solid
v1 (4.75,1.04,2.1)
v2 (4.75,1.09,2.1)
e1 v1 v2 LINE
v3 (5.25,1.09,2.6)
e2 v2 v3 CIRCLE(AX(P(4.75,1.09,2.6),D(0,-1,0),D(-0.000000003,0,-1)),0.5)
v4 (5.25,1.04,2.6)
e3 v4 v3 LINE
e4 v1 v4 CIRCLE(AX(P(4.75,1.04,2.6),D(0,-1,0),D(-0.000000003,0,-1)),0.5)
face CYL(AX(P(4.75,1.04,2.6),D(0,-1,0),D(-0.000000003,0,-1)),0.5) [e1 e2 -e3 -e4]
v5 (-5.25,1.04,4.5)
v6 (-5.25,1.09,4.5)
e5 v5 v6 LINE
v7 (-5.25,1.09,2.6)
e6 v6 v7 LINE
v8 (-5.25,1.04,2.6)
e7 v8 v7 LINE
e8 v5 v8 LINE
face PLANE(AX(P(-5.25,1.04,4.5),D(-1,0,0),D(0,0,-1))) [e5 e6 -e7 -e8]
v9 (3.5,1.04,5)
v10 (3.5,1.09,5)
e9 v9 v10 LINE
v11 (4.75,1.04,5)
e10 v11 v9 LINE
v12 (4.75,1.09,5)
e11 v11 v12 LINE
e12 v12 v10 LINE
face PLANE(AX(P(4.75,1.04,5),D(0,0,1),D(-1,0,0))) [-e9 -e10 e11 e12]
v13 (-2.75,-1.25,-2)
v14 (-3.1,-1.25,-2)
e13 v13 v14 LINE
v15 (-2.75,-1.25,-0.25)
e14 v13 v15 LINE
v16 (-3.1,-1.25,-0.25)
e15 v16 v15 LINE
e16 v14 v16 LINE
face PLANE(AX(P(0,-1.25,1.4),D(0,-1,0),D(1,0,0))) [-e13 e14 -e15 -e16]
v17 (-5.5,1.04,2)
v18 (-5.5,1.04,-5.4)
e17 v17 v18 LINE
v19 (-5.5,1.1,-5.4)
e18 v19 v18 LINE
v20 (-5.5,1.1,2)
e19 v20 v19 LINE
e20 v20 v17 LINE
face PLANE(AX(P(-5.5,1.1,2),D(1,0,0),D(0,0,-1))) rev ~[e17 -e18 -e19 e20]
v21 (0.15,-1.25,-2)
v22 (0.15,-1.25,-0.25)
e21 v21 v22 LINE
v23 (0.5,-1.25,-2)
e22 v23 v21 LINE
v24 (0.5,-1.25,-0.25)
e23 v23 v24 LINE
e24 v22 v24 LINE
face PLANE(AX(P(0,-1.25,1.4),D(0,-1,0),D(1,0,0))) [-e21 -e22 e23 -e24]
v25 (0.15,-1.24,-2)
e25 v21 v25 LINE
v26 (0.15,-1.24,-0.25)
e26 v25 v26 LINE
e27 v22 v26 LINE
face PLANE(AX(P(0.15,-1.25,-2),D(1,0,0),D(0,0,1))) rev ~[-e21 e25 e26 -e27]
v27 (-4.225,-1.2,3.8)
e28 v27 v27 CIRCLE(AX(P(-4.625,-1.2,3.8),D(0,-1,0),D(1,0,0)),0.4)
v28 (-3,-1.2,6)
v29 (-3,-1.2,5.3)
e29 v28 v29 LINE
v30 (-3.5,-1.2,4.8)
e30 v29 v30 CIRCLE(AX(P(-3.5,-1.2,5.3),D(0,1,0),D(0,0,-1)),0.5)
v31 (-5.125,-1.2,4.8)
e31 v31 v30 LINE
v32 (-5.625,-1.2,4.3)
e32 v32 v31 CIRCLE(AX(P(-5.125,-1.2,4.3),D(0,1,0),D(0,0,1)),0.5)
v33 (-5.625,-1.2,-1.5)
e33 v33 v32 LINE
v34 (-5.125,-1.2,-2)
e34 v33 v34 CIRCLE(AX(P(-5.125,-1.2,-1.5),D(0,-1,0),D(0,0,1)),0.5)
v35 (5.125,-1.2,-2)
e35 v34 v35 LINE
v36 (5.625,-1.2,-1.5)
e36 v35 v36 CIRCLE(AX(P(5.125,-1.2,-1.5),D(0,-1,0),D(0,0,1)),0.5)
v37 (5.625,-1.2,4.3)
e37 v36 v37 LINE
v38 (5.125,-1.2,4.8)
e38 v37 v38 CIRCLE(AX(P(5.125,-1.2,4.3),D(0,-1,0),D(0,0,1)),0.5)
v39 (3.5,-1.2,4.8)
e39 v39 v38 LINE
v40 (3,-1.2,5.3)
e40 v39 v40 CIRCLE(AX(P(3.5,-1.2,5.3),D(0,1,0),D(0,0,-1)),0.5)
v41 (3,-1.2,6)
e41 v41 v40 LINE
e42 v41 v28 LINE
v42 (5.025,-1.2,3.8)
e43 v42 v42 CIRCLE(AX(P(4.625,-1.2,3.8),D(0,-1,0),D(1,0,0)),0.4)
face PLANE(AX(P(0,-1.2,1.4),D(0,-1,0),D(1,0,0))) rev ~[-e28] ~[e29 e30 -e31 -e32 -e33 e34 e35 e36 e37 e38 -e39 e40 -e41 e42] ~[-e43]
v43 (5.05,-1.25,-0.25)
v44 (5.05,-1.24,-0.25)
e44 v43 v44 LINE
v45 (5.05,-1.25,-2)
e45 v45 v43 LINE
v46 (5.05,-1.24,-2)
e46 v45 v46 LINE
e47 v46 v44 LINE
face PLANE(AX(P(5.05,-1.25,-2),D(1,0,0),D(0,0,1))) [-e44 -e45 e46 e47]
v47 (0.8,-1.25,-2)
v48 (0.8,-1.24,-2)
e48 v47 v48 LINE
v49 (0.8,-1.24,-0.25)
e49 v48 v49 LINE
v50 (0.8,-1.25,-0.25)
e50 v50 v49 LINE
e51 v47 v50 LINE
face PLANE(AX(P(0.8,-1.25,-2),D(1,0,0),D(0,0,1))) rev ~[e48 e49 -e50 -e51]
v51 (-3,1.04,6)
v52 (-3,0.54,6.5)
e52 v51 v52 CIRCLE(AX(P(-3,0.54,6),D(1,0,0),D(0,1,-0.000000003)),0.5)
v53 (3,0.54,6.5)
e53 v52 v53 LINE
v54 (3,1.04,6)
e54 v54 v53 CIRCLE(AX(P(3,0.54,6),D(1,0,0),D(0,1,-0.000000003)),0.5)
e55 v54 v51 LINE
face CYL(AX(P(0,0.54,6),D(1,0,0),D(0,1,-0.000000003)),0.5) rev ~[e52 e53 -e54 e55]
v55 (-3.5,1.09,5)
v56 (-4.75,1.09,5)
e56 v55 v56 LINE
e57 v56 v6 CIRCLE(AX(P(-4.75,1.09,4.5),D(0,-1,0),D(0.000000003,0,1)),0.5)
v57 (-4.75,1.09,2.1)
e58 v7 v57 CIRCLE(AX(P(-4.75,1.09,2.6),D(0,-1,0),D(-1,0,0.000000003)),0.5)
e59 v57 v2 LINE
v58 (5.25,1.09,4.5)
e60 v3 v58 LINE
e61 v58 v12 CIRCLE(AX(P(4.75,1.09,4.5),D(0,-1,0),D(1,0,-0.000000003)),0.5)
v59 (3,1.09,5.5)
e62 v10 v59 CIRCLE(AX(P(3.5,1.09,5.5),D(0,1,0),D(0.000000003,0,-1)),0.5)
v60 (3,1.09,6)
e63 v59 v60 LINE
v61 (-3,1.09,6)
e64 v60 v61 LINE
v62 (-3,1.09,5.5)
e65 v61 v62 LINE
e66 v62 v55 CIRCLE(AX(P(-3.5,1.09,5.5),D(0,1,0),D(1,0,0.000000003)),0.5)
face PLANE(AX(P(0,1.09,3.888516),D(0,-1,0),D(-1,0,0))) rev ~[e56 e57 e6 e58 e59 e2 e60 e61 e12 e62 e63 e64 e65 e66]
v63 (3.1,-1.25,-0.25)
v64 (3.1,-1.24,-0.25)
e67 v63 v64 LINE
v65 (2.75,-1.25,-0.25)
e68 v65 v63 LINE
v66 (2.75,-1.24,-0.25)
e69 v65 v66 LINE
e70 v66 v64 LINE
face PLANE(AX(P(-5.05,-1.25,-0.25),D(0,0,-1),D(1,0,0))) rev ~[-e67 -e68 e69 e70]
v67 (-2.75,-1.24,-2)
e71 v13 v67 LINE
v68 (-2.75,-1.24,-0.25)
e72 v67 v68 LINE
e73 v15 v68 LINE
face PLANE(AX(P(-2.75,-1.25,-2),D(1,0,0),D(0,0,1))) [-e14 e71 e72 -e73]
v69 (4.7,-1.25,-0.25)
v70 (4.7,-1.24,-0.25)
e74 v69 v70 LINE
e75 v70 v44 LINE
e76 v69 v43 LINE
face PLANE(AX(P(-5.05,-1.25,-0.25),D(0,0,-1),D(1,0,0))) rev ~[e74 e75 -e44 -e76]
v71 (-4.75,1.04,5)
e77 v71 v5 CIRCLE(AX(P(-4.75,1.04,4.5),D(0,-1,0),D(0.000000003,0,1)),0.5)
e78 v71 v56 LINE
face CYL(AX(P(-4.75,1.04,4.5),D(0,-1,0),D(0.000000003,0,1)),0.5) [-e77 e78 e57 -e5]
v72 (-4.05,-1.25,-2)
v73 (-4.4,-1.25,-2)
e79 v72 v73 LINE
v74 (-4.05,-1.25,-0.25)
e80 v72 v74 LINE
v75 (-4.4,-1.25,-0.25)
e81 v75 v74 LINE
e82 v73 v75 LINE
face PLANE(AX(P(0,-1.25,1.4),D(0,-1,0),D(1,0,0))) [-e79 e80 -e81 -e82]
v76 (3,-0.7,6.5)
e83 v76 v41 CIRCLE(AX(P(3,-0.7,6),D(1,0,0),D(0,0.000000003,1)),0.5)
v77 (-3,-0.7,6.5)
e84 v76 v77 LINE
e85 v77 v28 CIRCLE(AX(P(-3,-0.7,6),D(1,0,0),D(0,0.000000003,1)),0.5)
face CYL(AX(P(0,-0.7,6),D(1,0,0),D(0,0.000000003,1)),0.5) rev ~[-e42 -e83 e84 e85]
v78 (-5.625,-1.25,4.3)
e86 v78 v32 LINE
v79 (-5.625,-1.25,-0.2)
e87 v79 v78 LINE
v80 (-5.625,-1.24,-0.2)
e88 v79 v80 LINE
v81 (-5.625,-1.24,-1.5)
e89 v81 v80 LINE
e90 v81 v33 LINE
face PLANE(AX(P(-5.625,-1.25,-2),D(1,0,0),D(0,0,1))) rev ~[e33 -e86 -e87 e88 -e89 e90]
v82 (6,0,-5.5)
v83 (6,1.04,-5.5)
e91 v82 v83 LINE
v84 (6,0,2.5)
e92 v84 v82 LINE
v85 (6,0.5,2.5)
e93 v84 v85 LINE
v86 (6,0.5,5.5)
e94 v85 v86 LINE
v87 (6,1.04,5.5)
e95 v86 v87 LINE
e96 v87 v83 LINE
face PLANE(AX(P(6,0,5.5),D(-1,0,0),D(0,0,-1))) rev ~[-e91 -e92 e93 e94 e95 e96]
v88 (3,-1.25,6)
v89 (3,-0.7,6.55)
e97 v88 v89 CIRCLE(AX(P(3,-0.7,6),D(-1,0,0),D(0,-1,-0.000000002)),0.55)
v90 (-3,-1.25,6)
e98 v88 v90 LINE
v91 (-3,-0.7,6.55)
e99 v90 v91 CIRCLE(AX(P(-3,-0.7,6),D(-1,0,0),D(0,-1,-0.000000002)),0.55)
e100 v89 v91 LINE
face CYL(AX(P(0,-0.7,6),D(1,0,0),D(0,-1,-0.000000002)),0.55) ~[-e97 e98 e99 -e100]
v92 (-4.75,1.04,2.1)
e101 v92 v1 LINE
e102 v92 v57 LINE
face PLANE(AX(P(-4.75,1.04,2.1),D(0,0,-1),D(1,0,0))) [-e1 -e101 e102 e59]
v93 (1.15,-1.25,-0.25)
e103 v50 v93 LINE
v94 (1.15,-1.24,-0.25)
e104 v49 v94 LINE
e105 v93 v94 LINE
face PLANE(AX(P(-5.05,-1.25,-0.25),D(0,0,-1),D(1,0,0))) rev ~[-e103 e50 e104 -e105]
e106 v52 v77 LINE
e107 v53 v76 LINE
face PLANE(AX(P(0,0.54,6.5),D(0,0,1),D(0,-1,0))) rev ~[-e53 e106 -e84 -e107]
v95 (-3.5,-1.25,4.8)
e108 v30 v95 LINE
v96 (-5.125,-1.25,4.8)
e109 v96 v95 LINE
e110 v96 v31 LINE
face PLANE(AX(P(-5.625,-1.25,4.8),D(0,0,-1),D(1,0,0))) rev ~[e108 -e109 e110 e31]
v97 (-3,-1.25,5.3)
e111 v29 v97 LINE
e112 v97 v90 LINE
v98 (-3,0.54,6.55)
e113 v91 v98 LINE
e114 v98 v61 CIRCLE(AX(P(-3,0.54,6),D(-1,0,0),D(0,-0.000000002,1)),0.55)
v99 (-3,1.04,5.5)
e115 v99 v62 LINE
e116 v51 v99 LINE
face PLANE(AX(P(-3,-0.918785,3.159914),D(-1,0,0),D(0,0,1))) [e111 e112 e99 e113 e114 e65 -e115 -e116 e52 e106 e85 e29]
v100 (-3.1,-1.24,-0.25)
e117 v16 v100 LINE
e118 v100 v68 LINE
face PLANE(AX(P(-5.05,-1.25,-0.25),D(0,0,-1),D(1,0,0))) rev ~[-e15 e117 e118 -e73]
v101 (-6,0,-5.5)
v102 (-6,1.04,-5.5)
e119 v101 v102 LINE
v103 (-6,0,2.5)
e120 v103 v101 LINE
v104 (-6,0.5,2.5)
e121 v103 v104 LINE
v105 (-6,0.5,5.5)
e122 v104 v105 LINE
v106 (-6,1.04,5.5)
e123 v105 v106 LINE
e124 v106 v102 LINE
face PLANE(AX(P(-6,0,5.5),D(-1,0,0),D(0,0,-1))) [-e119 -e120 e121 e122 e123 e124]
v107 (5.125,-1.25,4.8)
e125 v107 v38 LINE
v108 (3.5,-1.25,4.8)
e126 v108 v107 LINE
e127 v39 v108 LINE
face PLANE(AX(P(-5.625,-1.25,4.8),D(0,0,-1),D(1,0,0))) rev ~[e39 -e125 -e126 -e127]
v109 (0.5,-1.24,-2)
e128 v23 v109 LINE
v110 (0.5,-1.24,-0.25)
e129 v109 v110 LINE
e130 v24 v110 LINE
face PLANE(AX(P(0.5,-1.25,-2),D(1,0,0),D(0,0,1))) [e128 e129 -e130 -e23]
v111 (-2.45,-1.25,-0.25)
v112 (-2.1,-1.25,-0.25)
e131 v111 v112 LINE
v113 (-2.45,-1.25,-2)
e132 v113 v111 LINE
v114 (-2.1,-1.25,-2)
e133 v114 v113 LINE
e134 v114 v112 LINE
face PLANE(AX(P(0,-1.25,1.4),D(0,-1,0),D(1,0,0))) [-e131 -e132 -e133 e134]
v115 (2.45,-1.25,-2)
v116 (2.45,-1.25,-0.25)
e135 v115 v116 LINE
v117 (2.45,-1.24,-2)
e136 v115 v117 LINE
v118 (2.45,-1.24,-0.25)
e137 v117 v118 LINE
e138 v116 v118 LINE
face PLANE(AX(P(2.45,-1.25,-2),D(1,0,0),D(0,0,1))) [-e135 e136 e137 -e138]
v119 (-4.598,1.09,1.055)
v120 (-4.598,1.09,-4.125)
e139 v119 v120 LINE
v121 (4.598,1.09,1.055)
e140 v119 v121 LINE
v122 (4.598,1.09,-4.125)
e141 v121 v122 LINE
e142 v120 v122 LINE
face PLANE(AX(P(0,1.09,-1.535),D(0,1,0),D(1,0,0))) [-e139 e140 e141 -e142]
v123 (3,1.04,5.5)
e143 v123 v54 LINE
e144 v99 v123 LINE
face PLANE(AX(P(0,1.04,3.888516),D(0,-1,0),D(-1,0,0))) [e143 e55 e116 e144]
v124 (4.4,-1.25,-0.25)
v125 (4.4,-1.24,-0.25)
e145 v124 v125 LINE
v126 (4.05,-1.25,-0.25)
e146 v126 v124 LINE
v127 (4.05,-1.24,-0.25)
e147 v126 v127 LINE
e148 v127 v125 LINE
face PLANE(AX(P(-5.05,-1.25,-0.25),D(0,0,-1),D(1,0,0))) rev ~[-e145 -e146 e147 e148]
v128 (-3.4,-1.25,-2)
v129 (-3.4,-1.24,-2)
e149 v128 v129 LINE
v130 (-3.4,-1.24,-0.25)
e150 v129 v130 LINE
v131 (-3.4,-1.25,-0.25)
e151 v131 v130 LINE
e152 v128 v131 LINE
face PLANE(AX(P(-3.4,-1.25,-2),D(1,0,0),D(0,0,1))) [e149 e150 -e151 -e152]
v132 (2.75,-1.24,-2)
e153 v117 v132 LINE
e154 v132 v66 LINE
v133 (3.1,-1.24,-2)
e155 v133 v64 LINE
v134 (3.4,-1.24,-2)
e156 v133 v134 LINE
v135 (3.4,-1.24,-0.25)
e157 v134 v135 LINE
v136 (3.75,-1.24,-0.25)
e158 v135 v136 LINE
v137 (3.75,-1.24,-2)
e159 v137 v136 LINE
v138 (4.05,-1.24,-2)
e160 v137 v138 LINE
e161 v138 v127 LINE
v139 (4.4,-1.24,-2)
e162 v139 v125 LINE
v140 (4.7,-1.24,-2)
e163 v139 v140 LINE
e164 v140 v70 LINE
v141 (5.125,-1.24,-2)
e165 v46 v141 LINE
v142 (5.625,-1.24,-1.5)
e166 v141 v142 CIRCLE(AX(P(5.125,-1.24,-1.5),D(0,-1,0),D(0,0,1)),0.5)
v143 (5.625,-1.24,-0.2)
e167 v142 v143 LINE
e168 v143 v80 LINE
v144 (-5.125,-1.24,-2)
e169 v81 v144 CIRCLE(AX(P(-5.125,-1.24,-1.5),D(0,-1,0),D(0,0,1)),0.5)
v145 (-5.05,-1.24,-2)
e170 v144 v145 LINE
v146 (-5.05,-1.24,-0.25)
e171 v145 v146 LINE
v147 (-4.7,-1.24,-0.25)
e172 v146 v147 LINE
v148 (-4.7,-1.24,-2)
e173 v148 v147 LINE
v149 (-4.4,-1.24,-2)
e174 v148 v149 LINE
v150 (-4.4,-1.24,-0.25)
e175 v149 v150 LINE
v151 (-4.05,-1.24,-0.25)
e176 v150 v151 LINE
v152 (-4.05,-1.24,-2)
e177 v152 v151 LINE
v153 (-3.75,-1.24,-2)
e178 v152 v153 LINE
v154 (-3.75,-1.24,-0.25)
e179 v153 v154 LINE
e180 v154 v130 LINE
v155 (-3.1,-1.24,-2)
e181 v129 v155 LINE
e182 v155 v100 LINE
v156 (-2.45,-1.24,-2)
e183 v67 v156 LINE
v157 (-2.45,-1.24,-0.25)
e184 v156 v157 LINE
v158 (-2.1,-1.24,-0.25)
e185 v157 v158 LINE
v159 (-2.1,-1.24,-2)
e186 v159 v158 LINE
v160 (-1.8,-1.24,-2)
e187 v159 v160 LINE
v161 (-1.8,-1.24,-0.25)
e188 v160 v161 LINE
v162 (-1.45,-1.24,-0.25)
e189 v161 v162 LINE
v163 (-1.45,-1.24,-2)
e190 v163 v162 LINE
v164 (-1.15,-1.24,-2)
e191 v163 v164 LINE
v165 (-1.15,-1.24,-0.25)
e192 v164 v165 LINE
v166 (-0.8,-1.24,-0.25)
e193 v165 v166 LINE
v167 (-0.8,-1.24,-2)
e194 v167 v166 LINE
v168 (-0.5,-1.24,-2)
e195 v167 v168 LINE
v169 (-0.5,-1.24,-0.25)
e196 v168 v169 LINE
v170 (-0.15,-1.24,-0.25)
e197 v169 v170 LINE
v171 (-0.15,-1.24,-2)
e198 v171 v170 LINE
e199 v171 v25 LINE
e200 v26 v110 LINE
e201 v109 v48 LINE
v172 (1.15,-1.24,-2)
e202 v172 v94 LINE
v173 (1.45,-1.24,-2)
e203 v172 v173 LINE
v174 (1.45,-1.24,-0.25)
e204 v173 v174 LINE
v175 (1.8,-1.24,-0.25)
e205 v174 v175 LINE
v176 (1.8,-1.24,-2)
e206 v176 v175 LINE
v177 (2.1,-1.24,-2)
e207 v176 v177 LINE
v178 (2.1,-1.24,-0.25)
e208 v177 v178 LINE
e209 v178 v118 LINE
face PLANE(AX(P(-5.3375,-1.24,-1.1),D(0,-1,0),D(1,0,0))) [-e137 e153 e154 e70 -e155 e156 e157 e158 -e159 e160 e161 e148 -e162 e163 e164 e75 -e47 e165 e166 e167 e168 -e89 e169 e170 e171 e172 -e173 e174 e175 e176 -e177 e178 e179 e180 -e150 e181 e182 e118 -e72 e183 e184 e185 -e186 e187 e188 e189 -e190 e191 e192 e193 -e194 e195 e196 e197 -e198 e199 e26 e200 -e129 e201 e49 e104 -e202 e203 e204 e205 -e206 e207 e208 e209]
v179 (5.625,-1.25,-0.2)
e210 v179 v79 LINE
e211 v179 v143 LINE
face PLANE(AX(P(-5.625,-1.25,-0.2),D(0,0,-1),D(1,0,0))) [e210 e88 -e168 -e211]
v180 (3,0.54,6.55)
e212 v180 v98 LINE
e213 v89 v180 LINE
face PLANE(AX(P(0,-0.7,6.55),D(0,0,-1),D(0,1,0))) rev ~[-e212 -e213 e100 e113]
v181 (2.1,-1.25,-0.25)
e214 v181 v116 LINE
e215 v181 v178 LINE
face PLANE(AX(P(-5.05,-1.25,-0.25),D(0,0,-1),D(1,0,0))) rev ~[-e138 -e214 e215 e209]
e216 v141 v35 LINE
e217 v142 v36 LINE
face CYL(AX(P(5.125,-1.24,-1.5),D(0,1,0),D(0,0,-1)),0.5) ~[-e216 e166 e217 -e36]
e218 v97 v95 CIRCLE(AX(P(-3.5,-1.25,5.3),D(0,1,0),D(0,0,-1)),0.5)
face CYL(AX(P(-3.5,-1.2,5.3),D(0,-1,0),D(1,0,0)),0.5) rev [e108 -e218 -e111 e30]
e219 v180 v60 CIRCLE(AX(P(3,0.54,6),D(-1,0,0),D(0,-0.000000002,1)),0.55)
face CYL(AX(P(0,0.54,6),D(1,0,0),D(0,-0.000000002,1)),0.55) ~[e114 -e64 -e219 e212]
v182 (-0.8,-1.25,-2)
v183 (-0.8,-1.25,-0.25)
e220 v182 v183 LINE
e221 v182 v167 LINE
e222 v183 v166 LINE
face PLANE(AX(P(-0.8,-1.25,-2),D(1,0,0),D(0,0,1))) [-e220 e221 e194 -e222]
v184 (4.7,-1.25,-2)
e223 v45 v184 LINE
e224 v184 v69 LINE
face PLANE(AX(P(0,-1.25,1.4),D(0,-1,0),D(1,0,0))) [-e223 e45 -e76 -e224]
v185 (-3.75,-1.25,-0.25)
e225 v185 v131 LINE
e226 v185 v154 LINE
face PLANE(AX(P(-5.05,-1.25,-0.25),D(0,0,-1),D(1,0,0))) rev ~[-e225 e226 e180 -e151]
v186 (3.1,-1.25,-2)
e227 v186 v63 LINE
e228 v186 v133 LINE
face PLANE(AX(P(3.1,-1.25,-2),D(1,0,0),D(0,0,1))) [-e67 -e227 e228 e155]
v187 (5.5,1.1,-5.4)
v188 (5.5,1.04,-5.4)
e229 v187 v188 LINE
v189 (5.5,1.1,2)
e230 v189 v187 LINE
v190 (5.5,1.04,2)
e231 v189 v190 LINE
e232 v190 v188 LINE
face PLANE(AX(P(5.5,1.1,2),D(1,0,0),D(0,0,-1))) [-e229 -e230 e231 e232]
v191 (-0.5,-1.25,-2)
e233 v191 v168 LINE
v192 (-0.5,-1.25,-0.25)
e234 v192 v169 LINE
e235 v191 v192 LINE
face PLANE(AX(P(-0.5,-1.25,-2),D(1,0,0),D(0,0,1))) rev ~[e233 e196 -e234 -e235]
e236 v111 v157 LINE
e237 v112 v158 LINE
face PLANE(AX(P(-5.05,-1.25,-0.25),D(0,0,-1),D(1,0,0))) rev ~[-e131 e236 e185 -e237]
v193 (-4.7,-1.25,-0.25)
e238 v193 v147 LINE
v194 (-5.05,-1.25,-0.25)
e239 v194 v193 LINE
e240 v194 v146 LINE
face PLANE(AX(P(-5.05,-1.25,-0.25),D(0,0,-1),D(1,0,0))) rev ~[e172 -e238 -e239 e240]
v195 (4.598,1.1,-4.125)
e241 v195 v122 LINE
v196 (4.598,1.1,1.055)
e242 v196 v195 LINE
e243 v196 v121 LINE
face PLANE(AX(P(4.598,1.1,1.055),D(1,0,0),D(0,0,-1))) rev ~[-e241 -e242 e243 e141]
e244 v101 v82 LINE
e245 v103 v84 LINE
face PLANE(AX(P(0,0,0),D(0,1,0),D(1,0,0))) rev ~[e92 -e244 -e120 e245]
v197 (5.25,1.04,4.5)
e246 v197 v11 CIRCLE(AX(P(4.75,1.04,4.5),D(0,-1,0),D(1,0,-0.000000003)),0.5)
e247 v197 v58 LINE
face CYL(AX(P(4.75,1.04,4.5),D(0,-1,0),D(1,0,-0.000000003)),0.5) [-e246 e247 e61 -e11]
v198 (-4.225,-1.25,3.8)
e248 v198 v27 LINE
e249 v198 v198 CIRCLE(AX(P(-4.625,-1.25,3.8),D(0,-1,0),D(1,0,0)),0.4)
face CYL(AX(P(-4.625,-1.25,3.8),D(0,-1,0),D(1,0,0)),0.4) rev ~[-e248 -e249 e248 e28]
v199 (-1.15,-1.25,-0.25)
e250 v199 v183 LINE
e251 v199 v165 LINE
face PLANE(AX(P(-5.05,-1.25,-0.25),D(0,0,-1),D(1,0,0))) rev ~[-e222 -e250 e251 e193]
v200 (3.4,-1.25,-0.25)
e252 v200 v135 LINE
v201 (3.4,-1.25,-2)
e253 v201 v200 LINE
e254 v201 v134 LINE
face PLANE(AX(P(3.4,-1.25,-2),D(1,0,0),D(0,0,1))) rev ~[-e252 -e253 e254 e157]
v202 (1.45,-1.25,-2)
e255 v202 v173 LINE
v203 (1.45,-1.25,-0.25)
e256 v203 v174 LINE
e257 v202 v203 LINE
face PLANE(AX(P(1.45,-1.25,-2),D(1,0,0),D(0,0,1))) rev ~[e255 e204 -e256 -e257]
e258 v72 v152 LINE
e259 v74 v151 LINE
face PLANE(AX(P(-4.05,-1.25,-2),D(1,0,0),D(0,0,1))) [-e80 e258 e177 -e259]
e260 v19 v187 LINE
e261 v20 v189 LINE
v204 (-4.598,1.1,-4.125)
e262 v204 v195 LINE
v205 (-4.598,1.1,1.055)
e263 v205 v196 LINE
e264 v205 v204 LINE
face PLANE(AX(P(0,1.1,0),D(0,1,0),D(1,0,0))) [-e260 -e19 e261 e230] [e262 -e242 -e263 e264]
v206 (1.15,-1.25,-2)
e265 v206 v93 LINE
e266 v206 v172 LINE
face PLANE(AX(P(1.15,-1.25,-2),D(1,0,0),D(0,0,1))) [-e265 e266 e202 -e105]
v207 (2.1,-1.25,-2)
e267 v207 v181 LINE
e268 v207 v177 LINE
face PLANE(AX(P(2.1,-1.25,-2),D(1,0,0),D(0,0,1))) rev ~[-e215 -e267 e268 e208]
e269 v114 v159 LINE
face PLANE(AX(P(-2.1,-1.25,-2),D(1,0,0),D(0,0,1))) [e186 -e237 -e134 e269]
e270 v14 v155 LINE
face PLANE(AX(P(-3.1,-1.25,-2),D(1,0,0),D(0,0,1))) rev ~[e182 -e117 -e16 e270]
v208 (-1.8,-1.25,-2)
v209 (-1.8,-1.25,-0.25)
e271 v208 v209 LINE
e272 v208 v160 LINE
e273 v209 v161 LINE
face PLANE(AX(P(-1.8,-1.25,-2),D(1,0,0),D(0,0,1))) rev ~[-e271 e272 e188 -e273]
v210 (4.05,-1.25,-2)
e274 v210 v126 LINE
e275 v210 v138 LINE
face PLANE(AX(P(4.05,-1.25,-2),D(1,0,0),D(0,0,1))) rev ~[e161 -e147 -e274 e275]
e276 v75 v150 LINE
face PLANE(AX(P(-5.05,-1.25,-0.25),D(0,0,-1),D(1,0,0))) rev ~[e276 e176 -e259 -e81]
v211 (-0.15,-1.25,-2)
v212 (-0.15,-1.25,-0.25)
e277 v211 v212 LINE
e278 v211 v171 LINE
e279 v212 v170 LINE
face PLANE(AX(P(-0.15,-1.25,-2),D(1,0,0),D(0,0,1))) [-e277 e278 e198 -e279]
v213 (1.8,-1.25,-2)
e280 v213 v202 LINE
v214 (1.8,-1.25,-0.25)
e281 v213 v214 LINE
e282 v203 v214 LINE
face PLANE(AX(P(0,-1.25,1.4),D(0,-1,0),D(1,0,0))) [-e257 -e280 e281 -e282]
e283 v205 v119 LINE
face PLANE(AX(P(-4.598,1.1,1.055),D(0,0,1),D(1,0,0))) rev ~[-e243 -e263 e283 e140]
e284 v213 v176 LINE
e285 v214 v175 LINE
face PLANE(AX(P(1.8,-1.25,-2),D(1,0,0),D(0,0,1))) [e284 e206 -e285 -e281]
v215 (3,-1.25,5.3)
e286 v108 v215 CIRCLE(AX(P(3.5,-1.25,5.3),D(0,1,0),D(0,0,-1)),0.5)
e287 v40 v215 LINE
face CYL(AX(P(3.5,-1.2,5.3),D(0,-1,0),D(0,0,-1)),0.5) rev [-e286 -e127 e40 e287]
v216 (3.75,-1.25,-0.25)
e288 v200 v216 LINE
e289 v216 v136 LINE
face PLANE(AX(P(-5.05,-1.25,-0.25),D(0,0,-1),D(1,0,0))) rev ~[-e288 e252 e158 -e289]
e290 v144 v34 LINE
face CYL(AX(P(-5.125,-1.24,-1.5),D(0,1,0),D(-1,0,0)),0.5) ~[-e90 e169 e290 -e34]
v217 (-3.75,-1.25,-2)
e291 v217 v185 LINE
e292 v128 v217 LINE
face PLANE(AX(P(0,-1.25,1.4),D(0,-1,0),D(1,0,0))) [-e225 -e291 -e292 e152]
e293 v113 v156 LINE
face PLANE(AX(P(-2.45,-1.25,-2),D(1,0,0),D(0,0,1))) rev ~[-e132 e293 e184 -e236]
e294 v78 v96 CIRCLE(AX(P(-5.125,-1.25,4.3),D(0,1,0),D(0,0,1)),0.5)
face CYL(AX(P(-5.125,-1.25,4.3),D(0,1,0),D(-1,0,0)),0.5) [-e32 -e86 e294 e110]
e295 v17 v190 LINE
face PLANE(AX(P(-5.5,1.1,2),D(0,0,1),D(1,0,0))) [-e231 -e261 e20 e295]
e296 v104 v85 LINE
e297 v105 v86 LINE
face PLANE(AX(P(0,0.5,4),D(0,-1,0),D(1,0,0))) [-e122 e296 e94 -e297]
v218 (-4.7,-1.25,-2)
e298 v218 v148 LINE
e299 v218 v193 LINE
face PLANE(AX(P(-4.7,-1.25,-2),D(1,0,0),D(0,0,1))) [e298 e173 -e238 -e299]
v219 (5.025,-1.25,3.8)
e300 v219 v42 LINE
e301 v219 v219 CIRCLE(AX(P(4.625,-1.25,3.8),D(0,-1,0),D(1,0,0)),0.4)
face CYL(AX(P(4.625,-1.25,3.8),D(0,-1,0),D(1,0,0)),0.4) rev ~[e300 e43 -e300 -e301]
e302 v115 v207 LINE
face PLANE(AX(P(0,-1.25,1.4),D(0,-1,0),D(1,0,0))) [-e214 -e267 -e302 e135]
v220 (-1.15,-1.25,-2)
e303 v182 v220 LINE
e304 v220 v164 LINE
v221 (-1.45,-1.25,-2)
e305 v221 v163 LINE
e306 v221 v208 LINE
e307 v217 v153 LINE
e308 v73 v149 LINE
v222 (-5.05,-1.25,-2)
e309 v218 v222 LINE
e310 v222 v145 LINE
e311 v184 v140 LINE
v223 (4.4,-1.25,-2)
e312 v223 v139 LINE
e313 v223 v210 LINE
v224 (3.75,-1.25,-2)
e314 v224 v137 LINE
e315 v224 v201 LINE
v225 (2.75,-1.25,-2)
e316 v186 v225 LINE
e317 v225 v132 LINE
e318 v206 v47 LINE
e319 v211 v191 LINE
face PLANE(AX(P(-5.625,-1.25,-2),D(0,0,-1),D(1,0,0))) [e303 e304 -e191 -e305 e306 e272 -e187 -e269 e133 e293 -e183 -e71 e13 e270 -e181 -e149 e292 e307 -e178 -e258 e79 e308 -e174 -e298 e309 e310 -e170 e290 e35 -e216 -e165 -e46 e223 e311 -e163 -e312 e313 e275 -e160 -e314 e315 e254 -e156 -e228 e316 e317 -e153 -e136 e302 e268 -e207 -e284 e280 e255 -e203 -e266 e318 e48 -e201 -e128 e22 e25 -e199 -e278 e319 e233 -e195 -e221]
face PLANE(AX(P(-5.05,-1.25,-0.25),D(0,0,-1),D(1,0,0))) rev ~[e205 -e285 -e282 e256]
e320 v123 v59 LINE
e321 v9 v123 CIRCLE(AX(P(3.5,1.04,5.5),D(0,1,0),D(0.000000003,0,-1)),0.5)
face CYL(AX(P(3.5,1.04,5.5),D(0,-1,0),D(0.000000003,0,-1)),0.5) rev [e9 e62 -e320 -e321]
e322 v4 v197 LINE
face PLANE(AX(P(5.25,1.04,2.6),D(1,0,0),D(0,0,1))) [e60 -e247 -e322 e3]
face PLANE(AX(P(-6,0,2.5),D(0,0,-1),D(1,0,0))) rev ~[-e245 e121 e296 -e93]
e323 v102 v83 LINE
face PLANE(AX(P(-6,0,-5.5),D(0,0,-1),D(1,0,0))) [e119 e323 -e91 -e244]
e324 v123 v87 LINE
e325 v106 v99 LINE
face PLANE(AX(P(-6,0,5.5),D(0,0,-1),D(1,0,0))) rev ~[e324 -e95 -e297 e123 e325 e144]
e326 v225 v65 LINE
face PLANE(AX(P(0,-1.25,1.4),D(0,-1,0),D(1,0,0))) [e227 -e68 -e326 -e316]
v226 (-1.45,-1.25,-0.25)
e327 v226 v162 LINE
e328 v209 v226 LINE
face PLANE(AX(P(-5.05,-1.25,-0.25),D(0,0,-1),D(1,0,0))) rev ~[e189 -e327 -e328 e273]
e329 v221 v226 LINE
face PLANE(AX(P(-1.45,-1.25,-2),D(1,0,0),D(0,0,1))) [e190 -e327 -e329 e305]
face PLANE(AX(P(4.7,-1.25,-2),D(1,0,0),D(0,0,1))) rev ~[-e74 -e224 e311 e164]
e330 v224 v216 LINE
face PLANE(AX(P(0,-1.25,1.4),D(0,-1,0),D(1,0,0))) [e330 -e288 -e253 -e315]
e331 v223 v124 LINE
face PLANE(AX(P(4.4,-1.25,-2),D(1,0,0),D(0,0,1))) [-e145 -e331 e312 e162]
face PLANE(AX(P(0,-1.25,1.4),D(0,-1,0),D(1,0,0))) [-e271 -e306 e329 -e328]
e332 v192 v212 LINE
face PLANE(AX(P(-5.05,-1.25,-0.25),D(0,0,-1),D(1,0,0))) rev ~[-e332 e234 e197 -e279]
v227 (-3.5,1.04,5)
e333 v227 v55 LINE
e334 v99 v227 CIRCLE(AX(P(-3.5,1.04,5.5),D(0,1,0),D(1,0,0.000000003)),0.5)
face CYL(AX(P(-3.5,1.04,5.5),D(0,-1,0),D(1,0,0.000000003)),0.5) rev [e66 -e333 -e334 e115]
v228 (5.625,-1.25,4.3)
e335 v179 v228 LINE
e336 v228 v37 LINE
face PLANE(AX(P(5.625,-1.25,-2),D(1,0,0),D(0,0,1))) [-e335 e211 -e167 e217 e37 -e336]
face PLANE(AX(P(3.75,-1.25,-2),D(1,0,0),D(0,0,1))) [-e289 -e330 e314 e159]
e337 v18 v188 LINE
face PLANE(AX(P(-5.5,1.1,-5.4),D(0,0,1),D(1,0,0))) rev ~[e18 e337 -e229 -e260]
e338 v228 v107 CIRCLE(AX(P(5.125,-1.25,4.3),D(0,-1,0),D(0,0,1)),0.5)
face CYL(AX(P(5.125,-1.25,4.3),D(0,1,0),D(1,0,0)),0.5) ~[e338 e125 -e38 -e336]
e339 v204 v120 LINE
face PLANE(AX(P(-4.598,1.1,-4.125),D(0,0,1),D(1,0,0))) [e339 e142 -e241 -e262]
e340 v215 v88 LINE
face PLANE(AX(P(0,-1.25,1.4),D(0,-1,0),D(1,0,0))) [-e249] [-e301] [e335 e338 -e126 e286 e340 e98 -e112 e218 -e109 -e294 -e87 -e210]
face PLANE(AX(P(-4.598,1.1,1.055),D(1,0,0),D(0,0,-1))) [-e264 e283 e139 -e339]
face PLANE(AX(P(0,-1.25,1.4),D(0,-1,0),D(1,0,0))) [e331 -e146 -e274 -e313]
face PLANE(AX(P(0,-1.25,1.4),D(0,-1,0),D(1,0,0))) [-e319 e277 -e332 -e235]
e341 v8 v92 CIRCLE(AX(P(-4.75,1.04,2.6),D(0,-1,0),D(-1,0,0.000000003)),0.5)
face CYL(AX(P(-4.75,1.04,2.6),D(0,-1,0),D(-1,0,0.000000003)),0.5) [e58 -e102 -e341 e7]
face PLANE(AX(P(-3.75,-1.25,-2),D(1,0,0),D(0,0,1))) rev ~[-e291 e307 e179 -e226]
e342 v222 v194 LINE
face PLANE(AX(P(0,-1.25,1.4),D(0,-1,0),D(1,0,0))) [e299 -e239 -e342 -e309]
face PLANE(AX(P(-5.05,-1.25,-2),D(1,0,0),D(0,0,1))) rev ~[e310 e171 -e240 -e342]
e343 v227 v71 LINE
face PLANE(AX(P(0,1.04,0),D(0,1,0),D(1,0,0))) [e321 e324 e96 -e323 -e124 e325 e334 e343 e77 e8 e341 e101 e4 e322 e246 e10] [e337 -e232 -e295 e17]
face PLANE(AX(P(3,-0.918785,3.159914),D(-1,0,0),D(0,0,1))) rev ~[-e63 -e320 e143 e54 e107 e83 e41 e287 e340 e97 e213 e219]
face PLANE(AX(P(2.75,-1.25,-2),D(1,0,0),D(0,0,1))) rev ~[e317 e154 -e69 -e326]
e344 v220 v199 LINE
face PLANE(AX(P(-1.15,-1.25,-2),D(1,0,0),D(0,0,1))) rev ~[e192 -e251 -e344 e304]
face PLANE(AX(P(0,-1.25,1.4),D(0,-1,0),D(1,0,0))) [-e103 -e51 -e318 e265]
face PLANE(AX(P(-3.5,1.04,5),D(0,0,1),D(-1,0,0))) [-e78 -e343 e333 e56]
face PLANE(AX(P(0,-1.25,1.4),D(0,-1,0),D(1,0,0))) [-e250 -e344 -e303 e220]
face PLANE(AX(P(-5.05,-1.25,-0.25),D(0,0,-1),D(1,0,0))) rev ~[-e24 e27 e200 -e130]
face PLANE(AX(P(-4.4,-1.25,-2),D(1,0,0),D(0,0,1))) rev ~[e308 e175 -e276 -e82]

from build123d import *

# Parameters (mm, degrees)
SKETCH1_W           = 12
SKETCH1_H           = 11
BOSS_EXTRUDE1_DEPTH = 1.1
SKETCH2_W           = 12
SKETCH2_H           = 11
SKETCH2_W_2         = 11
SKETCH2_H_2         = 7.4
CUT_EXTRUDE1_DEPTH  = 0.06
SKETCH3_W           = 9.196
SKETCH3_H           = 5.18
CUT_EXTRUDE2_DEPTH  = 0.01
SKETCH4_W           = 12
SKETCH4_H           = 3
CUT_EXTRUDE3_DEPTH  = 0.5
BOSS_EXTRUDE2_DEPTH = 0.05
BOSS_EXTRUDE3_DEPTH = 3
SKETCH7_W           = 11.25
SKETCH7_H           = 6.8
SKETCH7_R           = 0.4
BOSS_EXTRUDE4_DEPTH = 0.05
SKETCH8_W           = 0.3
SKETCH8_H           = 1.8
SKETCH8_W_2         = 0.575
CUT_EXTRUDE4_DEPTH  = 0.01
SKETCH10_W          = 10.1
SKETCH10_H          = 0.05
CUT_EXTRUDE5_DEPTH  = 0.01
FILLET1_R           = 0.5


with BuildPart() as part:
    # Sketch1 → Boss-Extrude1 (new body)
    with BuildSketch(Plane(origin=(0, 0, 0), x_dir=(1, 0, 0), z_dir=(0, 1, 0))):
        Rectangle(SKETCH1_W, SKETCH1_H)
    extrude(amount=BOSS_EXTRUDE1_DEPTH)

    # Sketch2 → Cut-Extrude1 (cut)
    with BuildSketch(Plane(origin=(0, 1.1, 0), x_dir=(1, 0, 0), z_dir=(0, 1, 0))):
        Rectangle(SKETCH2_W, SKETCH2_H)
        with Locations((0, 1.7)):
            Rectangle(SKETCH2_W_2, SKETCH2_H_2, mode=Mode.SUBTRACT)
    extrude(amount=-CUT_EXTRUDE1_DEPTH, mode=Mode.SUBTRACT)

    # Sketch3 → Cut-Extrude2 (cut)
    with BuildSketch(Plane(origin=(0, 1.1, 0), x_dir=(1, 0, 0), z_dir=(0, 1, 0))):
        with Locations((0, 1.535)):
            Rectangle(SKETCH3_W, SKETCH3_H)
    extrude(amount=-CUT_EXTRUDE2_DEPTH, mode=Mode.SUBTRACT)

    # Sketch4 → Cut-Extrude3 (cut)
    with BuildSketch(Plane.XZ):
        with Locations((0, 4)):
            Rectangle(SKETCH4_W, SKETCH4_H)
    extrude(amount=-CUT_EXTRUDE3_DEPTH, mode=Mode.SUBTRACT)

    # Sketch5 → Boss-Extrude2 (add)
    with BuildSketch(Plane(origin=(0, 1.04, 0), x_dir=(1, 0, 0), z_dir=(0, 1, 0))):
        with BuildLine():
            Line((-4.75, -2.1), (4.75, -2.1))
            ThreePointArc((4.75, -2.1), (5.103553391, -2.246446609), (5.25, -2.6))
            Line((5.25, -2.6), (5.25, -4.5))
            ThreePointArc((5.25, -4.5), (5.103553391, -4.853553391), (4.75, -5))
            Line((4.75, -5), (3.5, -5))
            ThreePointArc((3.5, -5), (3.146446609, -5.146446609), (3, -5.5))
            Line((3, -5.5), (3, -6))
            Line((3, -6), (-3, -6))
            Line((-3, -6), (-3, -5.5))
            ThreePointArc((-3, -5.5), (-3.146446609, -5.146446609), (-3.5, -5))
            Line((-3.5, -5), (-4.75, -5))
            ThreePointArc((-4.75, -5), (-5.103553391, -4.853553391), (-5.25, -4.5))
            Line((-5.25, -4.5), (-5.25, -2.6))
            ThreePointArc((-5.25, -2.6), (-5.103553391, -2.246446609), (-4.75, -2.1))
        make_face()
    extrude(amount=BOSS_EXTRUDE2_DEPTH)

    # Sketch6 → Boss-Extrude3 (add, symmetric)
    with BuildSketch(Plane(origin=(0, 0, 0), x_dir=(0, 0, -1), z_dir=(1, 0, 0))):
        with BuildLine():
            Line((-6.5, 0.54), (-6.5, -0.7))
            ThreePointArc((-6.5, -0.7), (-6.353553391, -1.053553391), (-6, -1.2))
            Line((-6, -1.2), (2, -1.2))
            Line((2, -1.2), (2, -1.25))
            Line((2, -1.25), (-6, -1.25))
            ThreePointArc((-6, -1.25), (-6.38890873, -1.08890873), (-6.55, -0.7))
            Line((-6.55, -0.7), (-6.55, 0.54))
            ThreePointArc((-6.55, 0.54), (-6.38890873, 0.92890873), (-6, 1.09))
            Line((-6, 1.09), (-6, 1.04))
            ThreePointArc((-6, 1.04), (-6.353553391, 0.893553391), (-6.5, 0.54))
        make_face()
    extrude(amount=BOSS_EXTRUDE3_DEPTH, both=True)

    # Sketch7 → Boss-Extrude4 (add)
    with BuildSketch(Plane.XZ.offset(1.25)):
        with Locations((0, 1.4)):
            Rectangle(SKETCH7_W, SKETCH7_H)
        with Locations((-4.625, 3.8)):
            Circle(SKETCH7_R, mode=Mode.SUBTRACT)
        with Locations((4.625, 3.8)):
            Circle(SKETCH7_R, mode=Mode.SUBTRACT)
    extrude(amount=-BOSS_EXTRUDE4_DEPTH)

    # Sketch8 → Cut-Extrude4 (cut)
    with BuildSketch(Plane.XZ.offset(1.25)):
        with Locations((0, -1.1)):
            Rectangle(SKETCH8_W, SKETCH8_H)
        with Locations((0.65, -1.1)):
            Rectangle(SKETCH8_W, SKETCH8_H)
        with Locations((1.3, -1.1)):
            Rectangle(SKETCH8_W, SKETCH8_H)
        with Locations((1.95, -1.1)):
            Rectangle(SKETCH8_W, SKETCH8_H)
        with Locations((2.6, -1.1)):
            Rectangle(SKETCH8_W, SKETCH8_H)
        with Locations((3.25, -1.1)):
            Rectangle(SKETCH8_W, SKETCH8_H)
        with Locations((3.9, -1.1)):
            Rectangle(SKETCH8_W, SKETCH8_H)
        with Locations((4.55, -1.1)):
            Rectangle(SKETCH8_W, SKETCH8_H)
        with Locations((-4.55, -1.1)):
            Rectangle(SKETCH8_W, SKETCH8_H)
        with Locations((-3.9, -1.1)):
            Rectangle(SKETCH8_W, SKETCH8_H)
        with Locations((-3.25, -1.1)):
            Rectangle(SKETCH8_W, SKETCH8_H)
        with Locations((-2.6, -1.1)):
            Rectangle(SKETCH8_W, SKETCH8_H)
        with Locations((-1.95, -1.1)):
            Rectangle(SKETCH8_W, SKETCH8_H)
        with Locations((-1.3, -1.1)):
            Rectangle(SKETCH8_W, SKETCH8_H)
        with Locations((-0.65, -1.1)):
            Rectangle(SKETCH8_W, SKETCH8_H)
        with Locations((5.3375, -1.1)):
            Rectangle(SKETCH8_W_2, SKETCH8_H)
        with Locations((-5.3375, -1.1)):
            Rectangle(SKETCH8_W_2, SKETCH8_H)
    extrude(amount=-CUT_EXTRUDE4_DEPTH, mode=Mode.SUBTRACT)

    # Sketch10 → Cut-Extrude5 (cut)
    with BuildSketch(Plane.XZ.offset(1.25)):
        with Locations((0, -0.225)):
            Rectangle(SKETCH10_W, SKETCH10_H)
    extrude(amount=-CUT_EXTRUDE5_DEPTH, mode=Mode.SUBTRACT)

    # Fillet1
    fillet1_edges = [part.edges().sort_by_distance(p)[0] for p in [
        (5.625, -1.22, -2),
        (-5.625, -1.225, 4.8),
        (5.625, -1.225, 4.8),
        (3, -1.225, 4.8),
        (-3, -1.225, 4.8),
        (-5.625, -1.22, -2),
    ]]
    fillet(fillet1_edges, radius=FILLET1_R)


solid = part.part
